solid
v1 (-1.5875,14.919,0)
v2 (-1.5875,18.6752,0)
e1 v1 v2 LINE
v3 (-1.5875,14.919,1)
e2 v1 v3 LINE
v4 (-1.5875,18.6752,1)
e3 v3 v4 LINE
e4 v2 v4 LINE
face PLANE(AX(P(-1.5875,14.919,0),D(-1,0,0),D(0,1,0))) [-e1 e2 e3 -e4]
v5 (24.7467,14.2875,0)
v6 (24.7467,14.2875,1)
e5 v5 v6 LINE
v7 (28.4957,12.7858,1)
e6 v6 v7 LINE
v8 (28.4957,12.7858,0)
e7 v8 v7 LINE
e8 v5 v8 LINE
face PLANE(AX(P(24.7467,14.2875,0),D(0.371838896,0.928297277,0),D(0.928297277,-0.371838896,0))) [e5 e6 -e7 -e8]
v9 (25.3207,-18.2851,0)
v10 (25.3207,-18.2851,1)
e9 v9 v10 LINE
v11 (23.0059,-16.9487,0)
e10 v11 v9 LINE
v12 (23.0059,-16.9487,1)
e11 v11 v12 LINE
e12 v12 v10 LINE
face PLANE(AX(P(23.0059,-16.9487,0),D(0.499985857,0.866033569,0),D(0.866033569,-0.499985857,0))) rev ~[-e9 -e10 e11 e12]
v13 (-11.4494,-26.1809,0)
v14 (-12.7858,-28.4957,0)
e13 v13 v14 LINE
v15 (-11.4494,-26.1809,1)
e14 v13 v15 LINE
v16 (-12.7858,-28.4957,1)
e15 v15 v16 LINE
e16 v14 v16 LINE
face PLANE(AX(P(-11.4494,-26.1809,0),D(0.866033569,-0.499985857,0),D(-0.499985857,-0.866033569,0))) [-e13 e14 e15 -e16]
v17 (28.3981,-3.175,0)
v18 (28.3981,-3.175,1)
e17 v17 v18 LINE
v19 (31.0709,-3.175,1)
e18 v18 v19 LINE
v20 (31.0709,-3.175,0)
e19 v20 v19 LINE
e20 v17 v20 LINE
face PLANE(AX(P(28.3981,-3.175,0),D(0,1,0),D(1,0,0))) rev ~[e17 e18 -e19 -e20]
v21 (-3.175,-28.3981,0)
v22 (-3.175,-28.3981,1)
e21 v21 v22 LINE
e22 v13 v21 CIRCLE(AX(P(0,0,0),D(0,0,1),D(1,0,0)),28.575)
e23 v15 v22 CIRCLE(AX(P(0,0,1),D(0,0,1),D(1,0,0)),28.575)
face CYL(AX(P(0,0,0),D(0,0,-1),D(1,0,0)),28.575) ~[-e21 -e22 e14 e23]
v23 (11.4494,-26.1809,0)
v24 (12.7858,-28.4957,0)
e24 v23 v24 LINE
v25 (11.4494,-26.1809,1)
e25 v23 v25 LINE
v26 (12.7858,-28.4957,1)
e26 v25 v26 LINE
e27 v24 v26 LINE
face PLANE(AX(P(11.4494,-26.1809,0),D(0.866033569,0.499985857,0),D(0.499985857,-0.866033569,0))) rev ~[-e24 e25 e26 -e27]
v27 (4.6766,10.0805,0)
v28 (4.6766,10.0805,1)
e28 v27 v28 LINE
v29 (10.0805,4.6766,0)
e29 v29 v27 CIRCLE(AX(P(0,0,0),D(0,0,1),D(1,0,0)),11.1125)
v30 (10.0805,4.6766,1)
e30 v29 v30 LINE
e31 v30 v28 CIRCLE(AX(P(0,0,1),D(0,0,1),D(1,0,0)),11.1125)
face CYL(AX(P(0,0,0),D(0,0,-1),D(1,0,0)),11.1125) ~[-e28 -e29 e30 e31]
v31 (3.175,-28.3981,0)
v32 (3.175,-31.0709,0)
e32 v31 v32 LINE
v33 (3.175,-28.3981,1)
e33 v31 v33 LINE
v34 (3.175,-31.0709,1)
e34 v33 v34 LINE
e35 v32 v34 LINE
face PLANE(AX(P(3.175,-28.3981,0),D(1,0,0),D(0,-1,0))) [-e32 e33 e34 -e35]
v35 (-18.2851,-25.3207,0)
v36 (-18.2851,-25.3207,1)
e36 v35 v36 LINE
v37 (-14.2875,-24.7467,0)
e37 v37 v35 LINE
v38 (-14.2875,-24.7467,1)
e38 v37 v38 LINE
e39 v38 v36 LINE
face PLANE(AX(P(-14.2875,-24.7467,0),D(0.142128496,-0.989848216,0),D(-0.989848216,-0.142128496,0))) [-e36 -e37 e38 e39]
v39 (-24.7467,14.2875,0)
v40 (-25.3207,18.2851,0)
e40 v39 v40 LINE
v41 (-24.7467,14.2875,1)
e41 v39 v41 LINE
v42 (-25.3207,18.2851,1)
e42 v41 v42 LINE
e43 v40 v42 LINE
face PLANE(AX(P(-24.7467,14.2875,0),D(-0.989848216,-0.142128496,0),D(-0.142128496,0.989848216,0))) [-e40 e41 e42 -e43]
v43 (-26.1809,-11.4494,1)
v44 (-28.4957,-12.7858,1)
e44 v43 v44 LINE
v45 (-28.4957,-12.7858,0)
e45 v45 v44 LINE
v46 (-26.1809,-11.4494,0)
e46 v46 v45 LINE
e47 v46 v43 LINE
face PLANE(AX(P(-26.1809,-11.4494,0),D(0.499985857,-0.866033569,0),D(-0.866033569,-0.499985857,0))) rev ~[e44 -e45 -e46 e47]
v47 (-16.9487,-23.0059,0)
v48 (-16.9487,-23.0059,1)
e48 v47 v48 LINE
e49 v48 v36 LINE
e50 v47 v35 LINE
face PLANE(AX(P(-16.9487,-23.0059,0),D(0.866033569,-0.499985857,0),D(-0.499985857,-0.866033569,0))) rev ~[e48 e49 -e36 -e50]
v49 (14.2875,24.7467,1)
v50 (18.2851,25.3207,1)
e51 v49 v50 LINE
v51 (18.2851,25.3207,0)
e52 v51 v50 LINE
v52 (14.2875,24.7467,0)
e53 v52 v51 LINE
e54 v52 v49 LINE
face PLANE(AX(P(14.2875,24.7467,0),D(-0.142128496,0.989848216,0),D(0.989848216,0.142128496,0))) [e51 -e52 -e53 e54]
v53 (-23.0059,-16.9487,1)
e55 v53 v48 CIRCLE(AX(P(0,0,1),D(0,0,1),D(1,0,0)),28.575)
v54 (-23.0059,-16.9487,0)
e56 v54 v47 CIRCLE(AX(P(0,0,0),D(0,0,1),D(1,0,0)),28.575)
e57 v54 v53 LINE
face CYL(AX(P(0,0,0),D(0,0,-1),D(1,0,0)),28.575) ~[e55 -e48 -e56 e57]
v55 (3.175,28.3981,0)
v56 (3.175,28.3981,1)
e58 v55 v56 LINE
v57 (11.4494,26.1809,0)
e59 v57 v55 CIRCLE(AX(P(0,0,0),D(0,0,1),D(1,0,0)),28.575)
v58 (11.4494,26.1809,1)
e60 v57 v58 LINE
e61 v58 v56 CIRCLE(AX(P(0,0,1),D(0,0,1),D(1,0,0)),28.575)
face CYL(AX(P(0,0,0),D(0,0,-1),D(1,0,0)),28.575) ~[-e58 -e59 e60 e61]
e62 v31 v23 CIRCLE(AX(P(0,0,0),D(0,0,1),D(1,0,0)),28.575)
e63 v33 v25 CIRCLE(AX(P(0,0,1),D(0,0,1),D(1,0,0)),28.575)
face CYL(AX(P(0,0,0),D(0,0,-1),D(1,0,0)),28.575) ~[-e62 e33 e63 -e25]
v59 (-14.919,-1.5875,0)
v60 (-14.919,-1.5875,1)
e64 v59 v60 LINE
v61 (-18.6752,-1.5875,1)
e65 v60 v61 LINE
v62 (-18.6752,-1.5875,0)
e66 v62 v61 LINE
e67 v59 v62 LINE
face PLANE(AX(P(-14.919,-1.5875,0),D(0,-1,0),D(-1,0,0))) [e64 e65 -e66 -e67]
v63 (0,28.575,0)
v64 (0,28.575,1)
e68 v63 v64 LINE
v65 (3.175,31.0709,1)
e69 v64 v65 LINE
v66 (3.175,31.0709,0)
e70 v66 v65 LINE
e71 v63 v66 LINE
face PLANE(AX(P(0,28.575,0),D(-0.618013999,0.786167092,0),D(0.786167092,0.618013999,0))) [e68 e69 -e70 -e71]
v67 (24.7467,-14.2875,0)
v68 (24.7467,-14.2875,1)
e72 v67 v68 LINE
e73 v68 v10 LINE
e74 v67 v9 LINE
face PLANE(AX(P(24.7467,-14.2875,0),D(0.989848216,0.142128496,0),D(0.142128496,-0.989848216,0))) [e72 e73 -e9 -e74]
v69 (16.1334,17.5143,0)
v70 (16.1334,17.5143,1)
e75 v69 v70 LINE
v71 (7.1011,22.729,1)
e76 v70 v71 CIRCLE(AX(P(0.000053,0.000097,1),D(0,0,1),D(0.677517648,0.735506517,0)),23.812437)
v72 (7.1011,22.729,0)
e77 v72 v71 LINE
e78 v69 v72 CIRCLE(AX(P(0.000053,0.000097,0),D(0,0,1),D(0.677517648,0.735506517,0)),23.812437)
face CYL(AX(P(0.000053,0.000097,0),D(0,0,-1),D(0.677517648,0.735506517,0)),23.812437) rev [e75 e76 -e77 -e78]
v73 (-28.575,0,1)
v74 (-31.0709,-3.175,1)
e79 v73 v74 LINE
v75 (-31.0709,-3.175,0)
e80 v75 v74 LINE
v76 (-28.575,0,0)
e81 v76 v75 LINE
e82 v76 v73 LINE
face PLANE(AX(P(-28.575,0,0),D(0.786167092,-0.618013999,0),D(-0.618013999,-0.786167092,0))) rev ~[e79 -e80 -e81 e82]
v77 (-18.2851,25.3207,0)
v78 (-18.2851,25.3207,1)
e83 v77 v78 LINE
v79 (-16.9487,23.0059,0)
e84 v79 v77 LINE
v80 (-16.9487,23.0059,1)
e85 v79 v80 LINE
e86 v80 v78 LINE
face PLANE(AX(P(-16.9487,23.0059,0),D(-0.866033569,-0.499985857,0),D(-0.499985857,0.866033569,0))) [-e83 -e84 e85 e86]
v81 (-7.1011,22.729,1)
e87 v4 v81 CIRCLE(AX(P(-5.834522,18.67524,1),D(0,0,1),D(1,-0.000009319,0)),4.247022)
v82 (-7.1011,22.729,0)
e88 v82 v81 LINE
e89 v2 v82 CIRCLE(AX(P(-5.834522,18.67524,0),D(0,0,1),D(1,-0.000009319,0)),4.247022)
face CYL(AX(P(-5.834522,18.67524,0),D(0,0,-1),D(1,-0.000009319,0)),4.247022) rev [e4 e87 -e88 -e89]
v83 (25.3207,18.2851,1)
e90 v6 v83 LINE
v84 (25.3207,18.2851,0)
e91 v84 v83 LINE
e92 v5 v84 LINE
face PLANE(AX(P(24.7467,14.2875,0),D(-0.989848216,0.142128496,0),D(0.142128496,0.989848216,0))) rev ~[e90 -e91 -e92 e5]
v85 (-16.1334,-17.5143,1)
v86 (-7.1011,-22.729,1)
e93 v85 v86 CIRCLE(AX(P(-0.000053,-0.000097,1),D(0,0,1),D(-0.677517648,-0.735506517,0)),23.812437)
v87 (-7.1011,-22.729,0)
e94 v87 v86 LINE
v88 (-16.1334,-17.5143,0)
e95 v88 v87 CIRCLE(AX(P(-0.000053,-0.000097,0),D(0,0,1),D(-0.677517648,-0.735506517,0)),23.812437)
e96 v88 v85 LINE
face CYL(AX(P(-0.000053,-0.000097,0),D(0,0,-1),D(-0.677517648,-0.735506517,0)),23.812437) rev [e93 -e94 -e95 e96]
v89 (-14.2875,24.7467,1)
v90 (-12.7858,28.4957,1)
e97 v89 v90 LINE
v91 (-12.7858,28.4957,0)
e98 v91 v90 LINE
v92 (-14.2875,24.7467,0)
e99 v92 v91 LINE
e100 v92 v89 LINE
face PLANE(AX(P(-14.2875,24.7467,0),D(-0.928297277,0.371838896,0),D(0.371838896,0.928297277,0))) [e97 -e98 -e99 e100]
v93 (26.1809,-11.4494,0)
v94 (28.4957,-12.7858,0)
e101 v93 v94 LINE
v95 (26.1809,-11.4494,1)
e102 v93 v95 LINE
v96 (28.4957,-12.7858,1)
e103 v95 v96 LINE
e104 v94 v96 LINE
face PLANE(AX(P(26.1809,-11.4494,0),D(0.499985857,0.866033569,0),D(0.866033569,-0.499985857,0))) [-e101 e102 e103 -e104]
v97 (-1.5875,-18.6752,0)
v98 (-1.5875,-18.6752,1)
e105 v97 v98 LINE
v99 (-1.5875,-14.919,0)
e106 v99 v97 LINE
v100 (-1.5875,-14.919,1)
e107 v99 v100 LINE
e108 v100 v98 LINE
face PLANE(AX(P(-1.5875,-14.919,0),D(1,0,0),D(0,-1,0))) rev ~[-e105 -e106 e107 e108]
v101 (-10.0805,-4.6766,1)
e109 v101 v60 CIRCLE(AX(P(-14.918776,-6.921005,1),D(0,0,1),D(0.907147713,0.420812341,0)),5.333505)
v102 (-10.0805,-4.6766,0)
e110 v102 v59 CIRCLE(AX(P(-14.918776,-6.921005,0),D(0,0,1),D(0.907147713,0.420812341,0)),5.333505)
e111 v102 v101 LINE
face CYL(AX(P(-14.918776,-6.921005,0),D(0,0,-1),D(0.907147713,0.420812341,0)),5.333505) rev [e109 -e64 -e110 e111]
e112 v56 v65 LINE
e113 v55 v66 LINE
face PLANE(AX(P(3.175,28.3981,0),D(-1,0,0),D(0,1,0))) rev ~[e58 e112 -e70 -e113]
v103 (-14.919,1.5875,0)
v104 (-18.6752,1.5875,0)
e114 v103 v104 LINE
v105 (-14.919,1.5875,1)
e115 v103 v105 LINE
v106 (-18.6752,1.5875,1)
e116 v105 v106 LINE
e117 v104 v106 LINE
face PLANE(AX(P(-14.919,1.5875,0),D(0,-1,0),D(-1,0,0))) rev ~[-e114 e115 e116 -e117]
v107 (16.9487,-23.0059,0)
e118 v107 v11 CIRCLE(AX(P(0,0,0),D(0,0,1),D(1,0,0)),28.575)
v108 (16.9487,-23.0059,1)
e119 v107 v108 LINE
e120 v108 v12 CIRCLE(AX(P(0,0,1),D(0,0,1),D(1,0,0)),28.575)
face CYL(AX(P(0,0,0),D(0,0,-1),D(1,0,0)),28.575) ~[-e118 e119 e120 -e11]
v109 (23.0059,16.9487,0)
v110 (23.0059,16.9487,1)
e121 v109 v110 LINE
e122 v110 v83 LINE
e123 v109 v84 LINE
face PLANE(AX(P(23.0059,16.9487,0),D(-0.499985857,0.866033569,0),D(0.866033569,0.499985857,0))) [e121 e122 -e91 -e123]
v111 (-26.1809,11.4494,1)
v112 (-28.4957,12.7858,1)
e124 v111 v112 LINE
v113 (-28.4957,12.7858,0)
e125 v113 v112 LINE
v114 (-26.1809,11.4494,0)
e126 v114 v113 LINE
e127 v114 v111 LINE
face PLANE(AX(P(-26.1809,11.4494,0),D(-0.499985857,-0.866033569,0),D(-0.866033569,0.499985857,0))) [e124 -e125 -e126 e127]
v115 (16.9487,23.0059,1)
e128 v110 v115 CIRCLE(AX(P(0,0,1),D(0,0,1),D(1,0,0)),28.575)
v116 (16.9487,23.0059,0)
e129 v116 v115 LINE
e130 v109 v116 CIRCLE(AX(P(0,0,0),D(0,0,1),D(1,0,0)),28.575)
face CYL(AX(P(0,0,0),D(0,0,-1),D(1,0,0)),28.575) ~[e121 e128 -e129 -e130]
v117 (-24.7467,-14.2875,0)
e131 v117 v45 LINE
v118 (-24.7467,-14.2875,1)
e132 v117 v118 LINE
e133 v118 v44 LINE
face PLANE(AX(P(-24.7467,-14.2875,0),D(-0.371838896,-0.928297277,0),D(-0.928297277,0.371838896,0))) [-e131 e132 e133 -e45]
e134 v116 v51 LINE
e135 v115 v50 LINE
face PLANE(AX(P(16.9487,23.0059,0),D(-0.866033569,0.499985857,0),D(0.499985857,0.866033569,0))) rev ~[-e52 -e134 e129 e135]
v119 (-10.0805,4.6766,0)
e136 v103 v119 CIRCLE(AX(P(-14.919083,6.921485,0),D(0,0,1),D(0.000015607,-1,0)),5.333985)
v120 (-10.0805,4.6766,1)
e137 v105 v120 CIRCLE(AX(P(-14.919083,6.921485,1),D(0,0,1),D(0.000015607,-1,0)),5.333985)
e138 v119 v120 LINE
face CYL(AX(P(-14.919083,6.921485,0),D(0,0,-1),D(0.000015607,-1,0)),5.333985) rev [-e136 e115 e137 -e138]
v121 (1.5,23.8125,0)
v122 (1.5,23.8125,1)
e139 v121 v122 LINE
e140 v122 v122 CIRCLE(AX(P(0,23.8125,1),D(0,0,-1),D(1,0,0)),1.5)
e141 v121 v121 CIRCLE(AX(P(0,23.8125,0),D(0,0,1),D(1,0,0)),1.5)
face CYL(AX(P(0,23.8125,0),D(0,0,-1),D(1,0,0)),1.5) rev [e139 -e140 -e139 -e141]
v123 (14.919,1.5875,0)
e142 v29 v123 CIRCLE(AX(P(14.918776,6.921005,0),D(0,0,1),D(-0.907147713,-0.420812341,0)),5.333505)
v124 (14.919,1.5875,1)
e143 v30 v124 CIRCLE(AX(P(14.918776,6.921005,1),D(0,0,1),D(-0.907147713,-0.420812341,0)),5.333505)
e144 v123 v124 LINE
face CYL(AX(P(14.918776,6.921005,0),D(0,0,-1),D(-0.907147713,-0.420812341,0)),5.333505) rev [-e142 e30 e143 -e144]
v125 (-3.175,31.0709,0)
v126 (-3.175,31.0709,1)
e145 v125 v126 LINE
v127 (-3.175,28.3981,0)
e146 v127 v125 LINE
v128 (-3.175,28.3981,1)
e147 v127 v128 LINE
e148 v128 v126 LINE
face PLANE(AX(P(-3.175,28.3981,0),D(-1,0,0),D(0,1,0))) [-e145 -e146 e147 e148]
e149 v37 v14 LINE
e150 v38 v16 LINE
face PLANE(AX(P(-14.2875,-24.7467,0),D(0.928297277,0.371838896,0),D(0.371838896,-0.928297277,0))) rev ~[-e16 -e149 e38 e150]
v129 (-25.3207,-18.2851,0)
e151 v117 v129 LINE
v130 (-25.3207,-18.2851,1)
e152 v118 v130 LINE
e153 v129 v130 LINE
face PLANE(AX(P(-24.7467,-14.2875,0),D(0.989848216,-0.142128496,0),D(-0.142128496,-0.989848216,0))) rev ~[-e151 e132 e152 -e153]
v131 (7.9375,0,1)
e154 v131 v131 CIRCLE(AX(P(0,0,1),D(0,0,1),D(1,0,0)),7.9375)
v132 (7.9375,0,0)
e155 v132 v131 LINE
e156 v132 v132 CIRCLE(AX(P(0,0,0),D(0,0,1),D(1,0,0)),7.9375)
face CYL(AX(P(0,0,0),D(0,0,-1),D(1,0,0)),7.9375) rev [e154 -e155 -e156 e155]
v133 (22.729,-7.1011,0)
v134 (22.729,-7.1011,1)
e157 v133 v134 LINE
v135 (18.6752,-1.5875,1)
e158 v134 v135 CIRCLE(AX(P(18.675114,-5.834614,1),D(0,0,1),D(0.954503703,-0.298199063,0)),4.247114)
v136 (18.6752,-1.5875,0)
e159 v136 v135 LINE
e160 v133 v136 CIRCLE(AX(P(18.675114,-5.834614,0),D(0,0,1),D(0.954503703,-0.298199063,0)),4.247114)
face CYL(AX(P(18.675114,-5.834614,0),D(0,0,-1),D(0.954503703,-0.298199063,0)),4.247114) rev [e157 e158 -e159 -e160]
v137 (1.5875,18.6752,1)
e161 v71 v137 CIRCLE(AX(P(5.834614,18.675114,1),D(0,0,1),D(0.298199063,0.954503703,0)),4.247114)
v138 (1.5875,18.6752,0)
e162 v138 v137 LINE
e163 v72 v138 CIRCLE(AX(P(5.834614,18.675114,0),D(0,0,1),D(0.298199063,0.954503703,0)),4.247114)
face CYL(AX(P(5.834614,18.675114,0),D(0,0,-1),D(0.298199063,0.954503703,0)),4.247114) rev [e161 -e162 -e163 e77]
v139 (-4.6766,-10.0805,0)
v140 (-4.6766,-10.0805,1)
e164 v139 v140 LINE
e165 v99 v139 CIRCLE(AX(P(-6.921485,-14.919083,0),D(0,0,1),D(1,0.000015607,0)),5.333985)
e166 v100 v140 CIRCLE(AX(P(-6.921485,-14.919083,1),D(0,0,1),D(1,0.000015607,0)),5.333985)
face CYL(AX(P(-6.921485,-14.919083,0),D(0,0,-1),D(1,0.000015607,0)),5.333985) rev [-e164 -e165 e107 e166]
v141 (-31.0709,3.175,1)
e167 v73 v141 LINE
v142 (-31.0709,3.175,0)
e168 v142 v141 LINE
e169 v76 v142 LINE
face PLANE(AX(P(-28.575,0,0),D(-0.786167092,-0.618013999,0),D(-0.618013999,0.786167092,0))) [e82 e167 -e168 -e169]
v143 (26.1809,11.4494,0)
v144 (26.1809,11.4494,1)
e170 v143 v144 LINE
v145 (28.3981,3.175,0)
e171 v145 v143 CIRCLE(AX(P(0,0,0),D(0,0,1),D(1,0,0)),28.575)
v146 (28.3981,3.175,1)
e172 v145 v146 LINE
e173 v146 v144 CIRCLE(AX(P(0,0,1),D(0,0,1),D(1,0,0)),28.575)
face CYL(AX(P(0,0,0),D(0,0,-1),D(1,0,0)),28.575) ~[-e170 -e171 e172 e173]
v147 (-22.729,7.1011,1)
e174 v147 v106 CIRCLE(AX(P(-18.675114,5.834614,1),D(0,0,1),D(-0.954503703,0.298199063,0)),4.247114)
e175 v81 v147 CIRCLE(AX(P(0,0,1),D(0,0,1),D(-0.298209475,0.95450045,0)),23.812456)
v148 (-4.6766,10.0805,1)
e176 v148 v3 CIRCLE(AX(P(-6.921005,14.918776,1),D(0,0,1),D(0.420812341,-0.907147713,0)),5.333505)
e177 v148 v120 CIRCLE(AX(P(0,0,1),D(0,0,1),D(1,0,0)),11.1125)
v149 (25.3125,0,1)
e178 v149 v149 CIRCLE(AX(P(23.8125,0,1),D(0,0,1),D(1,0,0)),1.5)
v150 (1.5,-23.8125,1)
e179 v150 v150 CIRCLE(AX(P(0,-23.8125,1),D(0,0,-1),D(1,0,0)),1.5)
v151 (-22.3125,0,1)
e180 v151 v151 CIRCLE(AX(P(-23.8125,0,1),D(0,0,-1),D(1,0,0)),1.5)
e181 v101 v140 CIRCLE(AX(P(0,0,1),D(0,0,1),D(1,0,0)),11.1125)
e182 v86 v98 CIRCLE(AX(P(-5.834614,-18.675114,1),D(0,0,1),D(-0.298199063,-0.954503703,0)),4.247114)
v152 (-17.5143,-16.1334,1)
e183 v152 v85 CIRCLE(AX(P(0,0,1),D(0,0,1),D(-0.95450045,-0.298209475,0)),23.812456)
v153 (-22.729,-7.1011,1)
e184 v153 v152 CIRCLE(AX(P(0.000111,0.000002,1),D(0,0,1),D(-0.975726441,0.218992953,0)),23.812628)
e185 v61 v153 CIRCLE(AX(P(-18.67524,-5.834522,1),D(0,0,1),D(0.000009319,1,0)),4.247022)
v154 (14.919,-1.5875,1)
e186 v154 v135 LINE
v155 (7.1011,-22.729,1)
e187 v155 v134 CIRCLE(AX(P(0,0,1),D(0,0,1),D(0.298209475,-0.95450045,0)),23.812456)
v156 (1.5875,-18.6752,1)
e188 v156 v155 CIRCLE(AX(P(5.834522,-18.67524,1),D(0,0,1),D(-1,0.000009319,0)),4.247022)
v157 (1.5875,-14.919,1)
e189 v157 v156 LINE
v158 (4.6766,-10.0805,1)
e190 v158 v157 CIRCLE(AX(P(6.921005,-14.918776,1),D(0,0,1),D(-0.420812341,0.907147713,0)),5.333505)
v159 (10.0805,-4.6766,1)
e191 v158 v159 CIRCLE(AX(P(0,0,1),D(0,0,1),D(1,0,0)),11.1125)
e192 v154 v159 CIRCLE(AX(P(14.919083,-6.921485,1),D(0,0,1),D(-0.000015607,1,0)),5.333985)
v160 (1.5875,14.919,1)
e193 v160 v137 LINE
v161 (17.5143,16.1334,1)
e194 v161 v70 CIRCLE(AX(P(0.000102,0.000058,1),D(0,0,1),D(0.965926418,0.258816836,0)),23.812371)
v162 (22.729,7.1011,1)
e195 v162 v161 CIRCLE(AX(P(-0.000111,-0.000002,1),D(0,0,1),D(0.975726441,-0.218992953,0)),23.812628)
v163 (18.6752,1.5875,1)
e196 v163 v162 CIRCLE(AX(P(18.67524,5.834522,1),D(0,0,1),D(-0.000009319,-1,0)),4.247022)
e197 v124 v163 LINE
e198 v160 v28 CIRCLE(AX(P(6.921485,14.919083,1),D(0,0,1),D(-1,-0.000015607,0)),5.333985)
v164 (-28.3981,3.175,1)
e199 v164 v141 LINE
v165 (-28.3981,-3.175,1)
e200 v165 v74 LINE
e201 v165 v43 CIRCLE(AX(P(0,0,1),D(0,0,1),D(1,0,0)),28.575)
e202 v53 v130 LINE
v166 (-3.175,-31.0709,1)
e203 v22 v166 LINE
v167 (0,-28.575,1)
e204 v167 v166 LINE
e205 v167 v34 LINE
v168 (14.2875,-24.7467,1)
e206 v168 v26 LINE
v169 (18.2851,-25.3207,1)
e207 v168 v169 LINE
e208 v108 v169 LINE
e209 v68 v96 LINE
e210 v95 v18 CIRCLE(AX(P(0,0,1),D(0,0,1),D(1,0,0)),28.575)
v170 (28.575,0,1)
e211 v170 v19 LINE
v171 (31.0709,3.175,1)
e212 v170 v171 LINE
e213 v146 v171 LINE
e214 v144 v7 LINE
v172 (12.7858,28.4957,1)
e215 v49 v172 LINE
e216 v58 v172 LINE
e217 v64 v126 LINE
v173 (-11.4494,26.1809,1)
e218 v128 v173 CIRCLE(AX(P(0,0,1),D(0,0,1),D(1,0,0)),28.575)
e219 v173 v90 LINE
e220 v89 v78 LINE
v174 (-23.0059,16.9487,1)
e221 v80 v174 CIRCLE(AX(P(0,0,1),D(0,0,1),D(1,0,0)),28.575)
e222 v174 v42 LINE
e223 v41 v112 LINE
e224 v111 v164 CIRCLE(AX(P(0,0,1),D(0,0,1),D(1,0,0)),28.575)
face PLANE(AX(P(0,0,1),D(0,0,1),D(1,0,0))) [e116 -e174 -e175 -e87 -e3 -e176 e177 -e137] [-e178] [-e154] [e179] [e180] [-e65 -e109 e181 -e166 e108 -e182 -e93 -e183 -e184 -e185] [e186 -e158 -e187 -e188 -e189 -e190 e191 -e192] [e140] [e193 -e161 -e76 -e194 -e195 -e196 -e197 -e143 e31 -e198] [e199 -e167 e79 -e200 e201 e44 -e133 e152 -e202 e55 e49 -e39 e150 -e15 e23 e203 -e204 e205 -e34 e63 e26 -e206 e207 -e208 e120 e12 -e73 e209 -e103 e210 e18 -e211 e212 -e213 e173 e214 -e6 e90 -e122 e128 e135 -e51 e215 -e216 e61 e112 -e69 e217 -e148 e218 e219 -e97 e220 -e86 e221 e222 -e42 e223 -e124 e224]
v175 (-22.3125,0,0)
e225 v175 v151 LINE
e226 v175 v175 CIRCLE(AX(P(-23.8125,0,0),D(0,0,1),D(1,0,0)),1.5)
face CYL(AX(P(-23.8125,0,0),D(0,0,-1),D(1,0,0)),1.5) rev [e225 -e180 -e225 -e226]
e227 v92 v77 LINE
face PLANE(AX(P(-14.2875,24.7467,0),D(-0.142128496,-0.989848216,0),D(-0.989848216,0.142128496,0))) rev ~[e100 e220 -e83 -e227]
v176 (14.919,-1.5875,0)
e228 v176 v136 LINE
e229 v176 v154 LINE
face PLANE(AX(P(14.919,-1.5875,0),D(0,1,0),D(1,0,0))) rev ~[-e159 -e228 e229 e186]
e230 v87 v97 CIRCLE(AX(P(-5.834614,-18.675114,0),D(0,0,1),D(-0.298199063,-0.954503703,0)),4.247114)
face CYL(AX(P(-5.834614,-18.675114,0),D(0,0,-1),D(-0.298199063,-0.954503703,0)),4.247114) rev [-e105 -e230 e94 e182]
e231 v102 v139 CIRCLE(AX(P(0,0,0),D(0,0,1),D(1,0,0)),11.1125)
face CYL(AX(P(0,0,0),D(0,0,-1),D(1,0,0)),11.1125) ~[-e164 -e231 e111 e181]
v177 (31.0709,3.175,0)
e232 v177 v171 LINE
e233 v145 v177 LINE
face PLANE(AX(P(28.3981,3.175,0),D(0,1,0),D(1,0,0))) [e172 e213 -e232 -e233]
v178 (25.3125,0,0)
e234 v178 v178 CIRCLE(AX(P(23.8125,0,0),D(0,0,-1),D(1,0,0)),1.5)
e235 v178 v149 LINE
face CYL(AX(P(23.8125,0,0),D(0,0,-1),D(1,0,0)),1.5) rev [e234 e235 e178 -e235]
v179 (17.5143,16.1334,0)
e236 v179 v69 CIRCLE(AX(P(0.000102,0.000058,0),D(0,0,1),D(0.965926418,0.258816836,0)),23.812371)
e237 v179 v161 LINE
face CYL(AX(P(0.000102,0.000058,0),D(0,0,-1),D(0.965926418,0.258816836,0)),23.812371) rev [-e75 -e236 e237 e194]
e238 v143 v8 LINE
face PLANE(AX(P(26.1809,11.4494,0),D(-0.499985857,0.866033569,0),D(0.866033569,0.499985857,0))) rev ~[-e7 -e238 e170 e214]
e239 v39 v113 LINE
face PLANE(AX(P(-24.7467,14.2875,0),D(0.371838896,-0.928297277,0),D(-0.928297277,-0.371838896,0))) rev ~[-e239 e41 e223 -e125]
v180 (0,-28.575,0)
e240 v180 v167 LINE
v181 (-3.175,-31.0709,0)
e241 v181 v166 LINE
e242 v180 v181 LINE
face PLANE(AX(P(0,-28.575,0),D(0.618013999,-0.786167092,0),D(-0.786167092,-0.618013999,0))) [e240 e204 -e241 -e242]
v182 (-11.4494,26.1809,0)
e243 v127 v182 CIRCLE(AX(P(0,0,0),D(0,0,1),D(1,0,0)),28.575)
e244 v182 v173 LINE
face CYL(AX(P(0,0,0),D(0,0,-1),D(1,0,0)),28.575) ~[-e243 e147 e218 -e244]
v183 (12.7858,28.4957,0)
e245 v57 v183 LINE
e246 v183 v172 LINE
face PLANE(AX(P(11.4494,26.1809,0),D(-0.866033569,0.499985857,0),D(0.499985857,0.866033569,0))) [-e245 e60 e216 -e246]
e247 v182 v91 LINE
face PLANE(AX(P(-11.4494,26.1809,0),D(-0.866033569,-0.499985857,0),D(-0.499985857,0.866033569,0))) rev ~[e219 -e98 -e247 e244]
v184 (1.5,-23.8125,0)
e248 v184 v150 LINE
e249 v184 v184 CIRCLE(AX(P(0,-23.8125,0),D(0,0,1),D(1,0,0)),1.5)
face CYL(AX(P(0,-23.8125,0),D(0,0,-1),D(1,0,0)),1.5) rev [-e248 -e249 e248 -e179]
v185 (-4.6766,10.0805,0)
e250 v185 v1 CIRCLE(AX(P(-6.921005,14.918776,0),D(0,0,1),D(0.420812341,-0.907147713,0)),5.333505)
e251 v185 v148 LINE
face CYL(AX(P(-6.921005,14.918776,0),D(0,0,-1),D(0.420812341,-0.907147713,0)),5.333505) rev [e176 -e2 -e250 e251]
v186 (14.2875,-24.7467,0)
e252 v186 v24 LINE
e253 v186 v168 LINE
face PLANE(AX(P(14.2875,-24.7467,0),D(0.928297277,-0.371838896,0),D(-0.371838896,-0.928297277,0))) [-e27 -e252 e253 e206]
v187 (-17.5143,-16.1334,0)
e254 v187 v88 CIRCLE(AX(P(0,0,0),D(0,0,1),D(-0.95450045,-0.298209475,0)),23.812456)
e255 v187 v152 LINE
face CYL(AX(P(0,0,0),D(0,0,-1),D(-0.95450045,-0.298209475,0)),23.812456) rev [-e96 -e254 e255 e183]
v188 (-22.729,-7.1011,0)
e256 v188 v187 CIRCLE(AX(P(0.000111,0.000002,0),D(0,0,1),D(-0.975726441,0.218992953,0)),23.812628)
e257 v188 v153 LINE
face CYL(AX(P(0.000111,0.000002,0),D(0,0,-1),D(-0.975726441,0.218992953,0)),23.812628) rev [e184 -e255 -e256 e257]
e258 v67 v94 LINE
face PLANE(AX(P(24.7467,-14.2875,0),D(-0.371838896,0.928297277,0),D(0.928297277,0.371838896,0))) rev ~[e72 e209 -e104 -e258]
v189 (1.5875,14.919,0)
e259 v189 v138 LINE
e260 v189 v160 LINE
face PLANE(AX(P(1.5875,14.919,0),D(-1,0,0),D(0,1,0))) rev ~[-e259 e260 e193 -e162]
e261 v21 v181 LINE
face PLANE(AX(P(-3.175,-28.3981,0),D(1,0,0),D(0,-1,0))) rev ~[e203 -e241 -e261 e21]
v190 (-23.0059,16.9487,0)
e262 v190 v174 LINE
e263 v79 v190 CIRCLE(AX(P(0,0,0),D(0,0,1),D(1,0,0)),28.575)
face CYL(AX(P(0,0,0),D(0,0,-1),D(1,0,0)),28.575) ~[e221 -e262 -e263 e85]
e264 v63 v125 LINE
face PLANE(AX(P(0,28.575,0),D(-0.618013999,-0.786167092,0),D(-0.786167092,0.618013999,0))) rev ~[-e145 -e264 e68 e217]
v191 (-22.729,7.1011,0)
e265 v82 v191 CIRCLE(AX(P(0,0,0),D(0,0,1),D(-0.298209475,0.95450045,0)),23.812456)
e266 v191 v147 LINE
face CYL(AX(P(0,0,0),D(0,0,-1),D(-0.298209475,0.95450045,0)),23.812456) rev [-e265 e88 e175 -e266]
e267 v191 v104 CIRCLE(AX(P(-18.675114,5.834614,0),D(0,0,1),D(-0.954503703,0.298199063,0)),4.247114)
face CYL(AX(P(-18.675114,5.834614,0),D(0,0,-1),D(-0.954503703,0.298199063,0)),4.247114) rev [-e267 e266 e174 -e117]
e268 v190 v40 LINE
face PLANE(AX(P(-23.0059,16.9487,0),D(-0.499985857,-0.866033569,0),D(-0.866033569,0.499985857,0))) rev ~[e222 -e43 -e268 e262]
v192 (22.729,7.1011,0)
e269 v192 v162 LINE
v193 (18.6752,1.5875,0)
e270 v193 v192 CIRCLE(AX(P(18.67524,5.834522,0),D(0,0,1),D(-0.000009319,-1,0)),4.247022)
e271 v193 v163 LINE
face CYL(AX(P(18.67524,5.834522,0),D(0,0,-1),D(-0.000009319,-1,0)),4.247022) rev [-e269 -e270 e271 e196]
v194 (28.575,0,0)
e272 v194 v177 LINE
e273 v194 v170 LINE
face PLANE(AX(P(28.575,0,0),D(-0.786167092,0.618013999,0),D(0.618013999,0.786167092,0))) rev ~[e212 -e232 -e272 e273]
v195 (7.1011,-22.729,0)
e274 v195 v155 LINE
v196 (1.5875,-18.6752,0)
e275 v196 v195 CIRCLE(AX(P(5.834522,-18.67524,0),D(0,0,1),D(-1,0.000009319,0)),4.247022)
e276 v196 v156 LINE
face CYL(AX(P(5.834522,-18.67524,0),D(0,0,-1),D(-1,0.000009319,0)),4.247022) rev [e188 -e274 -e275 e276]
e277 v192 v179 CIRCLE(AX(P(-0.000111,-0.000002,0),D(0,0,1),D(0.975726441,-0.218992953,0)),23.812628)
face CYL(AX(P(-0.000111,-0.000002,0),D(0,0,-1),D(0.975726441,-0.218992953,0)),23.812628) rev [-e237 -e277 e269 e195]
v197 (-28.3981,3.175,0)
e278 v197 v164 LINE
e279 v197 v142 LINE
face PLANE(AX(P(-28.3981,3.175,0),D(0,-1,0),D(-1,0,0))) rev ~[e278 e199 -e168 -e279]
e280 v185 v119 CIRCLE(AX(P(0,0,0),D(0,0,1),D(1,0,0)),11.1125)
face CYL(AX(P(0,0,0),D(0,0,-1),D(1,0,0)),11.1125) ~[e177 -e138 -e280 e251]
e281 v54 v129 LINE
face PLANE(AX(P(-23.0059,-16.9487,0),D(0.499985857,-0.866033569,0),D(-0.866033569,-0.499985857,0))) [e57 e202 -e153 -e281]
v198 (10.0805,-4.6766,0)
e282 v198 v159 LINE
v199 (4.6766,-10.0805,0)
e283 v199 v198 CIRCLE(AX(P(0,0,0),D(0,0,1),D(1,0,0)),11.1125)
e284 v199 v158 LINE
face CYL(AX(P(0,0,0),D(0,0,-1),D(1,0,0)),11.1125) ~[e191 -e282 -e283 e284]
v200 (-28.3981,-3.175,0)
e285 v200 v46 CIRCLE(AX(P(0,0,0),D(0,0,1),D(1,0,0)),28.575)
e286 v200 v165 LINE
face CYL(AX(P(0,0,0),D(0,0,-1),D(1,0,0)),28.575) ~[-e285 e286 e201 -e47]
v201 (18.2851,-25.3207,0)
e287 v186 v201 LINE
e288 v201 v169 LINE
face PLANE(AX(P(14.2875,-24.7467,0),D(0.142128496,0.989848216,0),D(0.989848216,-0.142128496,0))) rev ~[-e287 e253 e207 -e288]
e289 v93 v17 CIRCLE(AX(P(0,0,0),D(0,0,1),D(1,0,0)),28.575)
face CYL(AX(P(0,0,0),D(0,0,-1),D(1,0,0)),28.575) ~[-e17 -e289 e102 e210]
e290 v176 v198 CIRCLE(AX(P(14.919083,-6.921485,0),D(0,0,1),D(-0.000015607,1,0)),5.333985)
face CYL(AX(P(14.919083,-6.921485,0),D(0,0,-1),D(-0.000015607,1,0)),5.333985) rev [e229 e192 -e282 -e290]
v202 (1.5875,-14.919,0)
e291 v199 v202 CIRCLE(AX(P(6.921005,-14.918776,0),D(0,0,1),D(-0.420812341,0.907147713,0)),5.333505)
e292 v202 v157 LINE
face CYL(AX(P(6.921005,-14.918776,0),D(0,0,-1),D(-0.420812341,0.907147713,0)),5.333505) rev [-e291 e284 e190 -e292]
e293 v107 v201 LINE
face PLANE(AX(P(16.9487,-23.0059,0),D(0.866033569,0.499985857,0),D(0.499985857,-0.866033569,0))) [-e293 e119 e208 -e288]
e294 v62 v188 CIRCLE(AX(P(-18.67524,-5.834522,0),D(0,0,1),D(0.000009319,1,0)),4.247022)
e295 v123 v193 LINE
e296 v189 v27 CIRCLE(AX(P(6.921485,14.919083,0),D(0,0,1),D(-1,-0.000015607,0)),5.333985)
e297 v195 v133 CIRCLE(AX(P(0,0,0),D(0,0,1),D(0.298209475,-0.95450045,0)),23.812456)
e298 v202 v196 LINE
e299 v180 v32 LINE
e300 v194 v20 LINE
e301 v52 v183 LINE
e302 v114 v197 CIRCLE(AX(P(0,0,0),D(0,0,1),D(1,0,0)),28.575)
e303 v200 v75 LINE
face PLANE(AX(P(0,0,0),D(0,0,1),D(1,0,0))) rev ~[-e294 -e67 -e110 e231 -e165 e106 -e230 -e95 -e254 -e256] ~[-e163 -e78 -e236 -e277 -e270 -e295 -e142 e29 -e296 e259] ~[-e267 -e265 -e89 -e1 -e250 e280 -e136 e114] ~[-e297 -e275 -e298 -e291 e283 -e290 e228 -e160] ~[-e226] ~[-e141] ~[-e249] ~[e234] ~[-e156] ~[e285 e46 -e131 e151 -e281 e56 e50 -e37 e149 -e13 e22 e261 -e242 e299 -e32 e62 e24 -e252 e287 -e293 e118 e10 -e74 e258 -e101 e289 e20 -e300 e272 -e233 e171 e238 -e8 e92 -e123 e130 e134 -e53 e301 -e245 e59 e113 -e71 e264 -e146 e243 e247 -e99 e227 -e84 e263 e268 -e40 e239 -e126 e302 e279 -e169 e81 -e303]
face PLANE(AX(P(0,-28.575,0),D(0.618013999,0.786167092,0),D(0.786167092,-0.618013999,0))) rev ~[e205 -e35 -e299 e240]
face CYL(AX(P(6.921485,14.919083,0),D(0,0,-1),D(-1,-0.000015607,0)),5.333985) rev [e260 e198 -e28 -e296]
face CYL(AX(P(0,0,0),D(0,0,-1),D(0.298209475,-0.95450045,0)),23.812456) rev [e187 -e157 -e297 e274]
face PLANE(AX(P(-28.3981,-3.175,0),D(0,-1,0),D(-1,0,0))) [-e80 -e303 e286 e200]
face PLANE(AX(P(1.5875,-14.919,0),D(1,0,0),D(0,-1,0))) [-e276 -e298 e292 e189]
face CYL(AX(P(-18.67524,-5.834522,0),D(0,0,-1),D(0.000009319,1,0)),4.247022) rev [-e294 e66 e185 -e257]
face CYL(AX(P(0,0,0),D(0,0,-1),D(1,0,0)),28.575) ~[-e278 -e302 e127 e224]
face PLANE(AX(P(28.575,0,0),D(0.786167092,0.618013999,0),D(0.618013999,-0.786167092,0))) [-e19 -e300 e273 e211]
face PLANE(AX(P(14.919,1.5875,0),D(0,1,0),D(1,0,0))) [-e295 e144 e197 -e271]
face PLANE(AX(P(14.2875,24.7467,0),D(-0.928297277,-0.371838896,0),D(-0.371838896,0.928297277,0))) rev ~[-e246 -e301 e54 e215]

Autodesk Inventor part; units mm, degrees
ref_plane "YZ Plane" through (0, 0, 0) normal (1, 0, 0) x (0, 1, 0)
ref_plane "XZ Plane" through (0, 0, 0) normal (0, 1, 0) x (-1, 0, 0)
ref_plane "XY Plane" through (0, 0, 0) normal (0, 0, 1) x (1, 0, 0)
sketch "Sketch1" plane through (0, 0, 0) normal (0, 0, 1) x (1, 0, 0)
  circle A0 centre (0, 0) radius 28.575
  circle A1 centre (0, 0) radius 23.8125 construction
  circle A2 centre (0, 0) radius 11.1125
  line L0 (0, 0) -> (0, 28.575) construction
  circle A3 centre (0, 23.8125) radius 1.5
  line L1 (-1.5875, 10.9985) -> (-1.5875, 28.5309)
  line L2 (1.5875, 10.9985) -> (1.5875, 28.5309)
  arc A4 (7.1011, 22.729) -> (1.5875, 18.6752) centre (5.8346, 18.6752) ccw
  arc A5 (-1.5875, 18.6752) -> (-7.1011, 22.729) centre (-5.8346, 18.6752) ccw
  arc A6 (1.5875, 14.919) -> (4.6766, 10.0805) centre (6.9212, 14.919) ccw
  arc A7 (-4.6766, 10.0805) -> (-1.5875, 14.919) centre (-6.9212, 14.919) ccw
  arc A8 (-14.919, 1.5875) -> (-10.0805, 4.6766) centre (-14.919, 6.9212) ccw
  line L3 (-10.9985, 1.5875) -> (-28.5309, 1.5875)
  line L4 (-10.9985, -1.5875) -> (-28.5309, -1.5875)
  arc A9 (-10.0805, -4.6766) -> (-14.919, -1.5875) centre (-14.919, -6.9212) ccw
  arc A10 (-22.729, 7.1011) -> (-18.6752, 1.5875) centre (-18.6752, 5.8346) ccw
  arc A11 (-18.6752, -1.5875) -> (-22.729, -7.1011) centre (-18.6752, -5.8346) ccw
  circle A12 centre (-23.8125, 0) radius 1.5
  arc A13 (-1.5875, -14.919) -> (-4.6766, -10.0805) centre (-6.9212, -14.919) ccw
  line L5 (-1.5875, -10.9985) -> (-1.5875, -28.5309)
  line L6 (1.5875, -10.9985) -> (1.5875, -28.5309)
  arc A14 (4.6766, -10.0805) -> (1.5875, -14.919) centre (6.9212, -14.919) ccw
  arc A15 (-7.1011, -22.729) -> (-1.5875, -18.6752) centre (-5.8346, -18.6752) ccw
  arc A16 (1.5875, -18.6752) -> (7.1011, -22.729) centre (5.8346, -18.6752) ccw
  circle A17 centre (0, -23.8125) radius 1.5
  arc A18 (14.919, -1.5875) -> (10.0805, -4.6766) centre (14.919, -6.9212) ccw
  line L7 (10.9985, -1.5875) -> (28.5309, -1.5875)
  line L8 (10.9985, 1.5875) -> (28.5309, 1.5875)
  arc A19 (10.0805, 4.6766) -> (14.919, 1.5875) centre (14.919, 6.9212) ccw
  arc A20 (22.729, -7.1011) -> (18.6752, -1.5875) centre (18.6752, -5.8346) ccw
  arc A21 (18.6752, 1.5875) -> (22.729, 7.1011) centre (18.6752, 5.8346) ccw
  circle A22 centre (23.8125, 0) radius 1.5
  circle A23 centre (0, 0) radius 7.9375
  arc A24 (-7.1011, 22.729) -> (-22.729, 7.1011) centre (0, 0) ccw
  arc A25 (-23.2345, 5.2148) -> (-17.5143, -16.1334) centre (0, 0) ccw
  arc A26 (-16.1334, -17.5143) -> (5.2148, -23.2345) centre (0, 0) ccw
  arc A27 (7.1011, -22.729) -> (22.729, -7.1011) centre (0, 0) ccw
  arc A28 (23.2345, -5.2148) -> (17.5143, 16.1334) centre (0, 0) ccw
  arc A29 (16.1334, 17.5143) -> (-5.2148, 23.2345) centre (0, 0) ccw
  line L9 (-1.5875, 28.5309) -> (-1.5875, 31.0709) construction
  line L10 (-1.5875, 31.0709) -> (1.5875, 28.5309) construction
  arc A30 (-22.729, -7.1011) -> (-7.1011, -22.729) centre (0, 0) ccw
  arc A31 (7.1011, -22.729) -> (22.729, -7.1011) centre (0, 0) ccw
  arc A32 (23.0011, 6.1631) -> (7.1011, 22.729) centre (0, 0) ccw
  arc A33 (-7.1011, 22.729) -> (-22.729, 7.1011) centre (0, 0) ccw
  line L11 (0, 28.575) -> (-3.175, 28.575) construction
  line L12 (-3.175, 28.575) -> (-3.175, 31.0709) construction
  line L13 (-3.175, 31.0709) -> (0, 31.0709) construction
  line L14 (0, 31.0709) -> (0, 28.575) construction
  line L15 (0, 28.575) -> (-3.175, 31.0709)
  line L16 (-3.175, 28.3981) -> (-3.175, 31.0709)
  line L17 (0, 28.575) -> (3.175, 31.0709)
  line L18 (3.175, 28.3981) -> (3.175, 31.0709)
  line L19 (-14.2875, 24.7467) -> (-12.7858, 28.4957)
  line L20 (-11.4494, 26.1809) -> (-12.7858, 28.4957)
  line L21 (-14.2875, 24.7467) -> (-18.2851, 25.3207)
  line L22 (-16.9487, 23.0059) -> (-18.2851, 25.3207)
  line L23 (-24.7467, 14.2875) -> (-25.3207, 18.2851)
  line L24 (-23.0059, 16.9487) -> (-25.3207, 18.2851)
  line L25 (-24.7467, 14.2875) -> (-28.4957, 12.7858)
  line L26 (-26.1809, 11.4494) -> (-28.4957, 12.7858)
  line L27 (-28.575, 0) -> (-31.0709, 3.175)
  line L28 (-28.3981, 3.175) -> (-31.0709, 3.175)
  line L29 (-28.575, 0) -> (-31.0709, -3.175)
  line L30 (-28.3981, -3.175) -> (-31.0709, -3.175)
  line L31 (-24.7467, -14.2875) -> (-28.4957, -12.7858)
  line L32 (-26.1809, -11.4494) -> (-28.4957, -12.7858)
  line L33 (-24.7467, -14.2875) -> (-25.3207, -18.2851)
  line L34 (-23.0059, -16.9487) -> (-25.3207, -18.2851)
  line L35 (-14.2875, -24.7467) -> (-18.2851, -25.3207)
  line L36 (-16.9487, -23.0059) -> (-18.2851, -25.3207)
  line L37 (-14.2875, -24.7467) -> (-12.7858, -28.4957)
  line L38 (-11.4494, -26.1809) -> (-12.7858, -28.4957)
  line L39 (0, -28.575) -> (-3.175, -31.0709)
  line L40 (-3.175, -28.3981) -> (-3.175, -31.0709)
  line L41 (0, -28.575) -> (3.175, -31.0709)
  line L42 (3.175, -28.3981) -> (3.175, -31.0709)
  line L43 (14.2875, -24.7467) -> (12.7858, -28.4957)
  line L44 (11.4494, -26.1809) -> (12.7858, -28.4957)
  line L45 (14.2875, -24.7467) -> (18.2851, -25.3207)
  line L46 (16.9487, -23.0059) -> (18.2851, -25.3207)
  line L47 (24.7467, -14.2875) -> (25.3207, -18.2851)
  line L48 (23.0059, -16.9487) -> (25.3207, -18.2851)
  line L49 (24.7467, -14.2875) -> (28.4957, -12.7858)
  line L50 (26.1809, -11.4494) -> (28.4957, -12.7858)
  line L51 (28.575, 0) -> (31.0709, -3.175)
  line L52 (28.3981, -3.175) -> (31.0709, -3.175)
  line L53 (28.575, 0) -> (31.0709, 3.175)
  line L54 (28.3981, 3.175) -> (31.0709, 3.175)
  line L55 (24.7467, 14.2875) -> (28.4957, 12.7858)
  line L56 (26.1809, 11.4494) -> (28.4957, 12.7858)
  line L57 (24.7467, 14.2875) -> (25.3207, 18.2851)
  line L58 (23.0059, 16.9487) -> (25.3207, 18.2851)
  line L59 (14.2875, 24.7467) -> (18.2851, 25.3207)
  line L60 (16.9487, 23.0059) -> (18.2851, 25.3207)
  line L61 (14.2875, 24.7467) -> (12.7858, 28.4957)
  line L62 (11.4494, 26.1809) -> (12.7858, 28.4957)
  point P0 (-1.5875, 14.919)
  point P1 (-4.6766, 10.0805)
  point P2 (-10.0805, 4.6766)
  point P3 (-1.5875, 18.6752)
  point P4 (1.5875, -14.919)
  point P5 (4.6766, -10.0805)
  point P6 (10.0805, -4.6766)
  point P7 (-7.072, -22.7381)
  point P8 (-16.1558, -17.4936)
  point P9 (1.5875, -18.6752)
  point P10 (14.919, 1.5875)
  point P11 (10.0805, 4.6766)
  point P12 (7.072, -22.7381)
  point P13 (18.6752, 1.5875)
  point P14 (-14.919, -1.5875)
  point P15 (-10.0805, -4.6766)
  point P16 (-4.6766, -10.0805)
  point P17 (-23.2278, -5.2445)
  point P18 (-22.729, -7.1011)
  point P19 (-18.6752, -1.5875)
  point P20 (7.1011, 22.729)
  point P21 (-23.7595, -1.5875)
  point P22 (16.1334, 17.5143)
  point P23 (17.5143, 16.1334)
  point P24 (22.729, 7.1011)
  point P25 (-7.1011, -22.729)
  point P26 (-16.1334, -17.5143)
  point P27 (-17.5143, -16.1334)
  point P28 (22.729, -7.1011)
  point P29 (7.1011, -22.729)
  point P30 (28.575, 0)
  point P31 (28.575, 0)
  dimension "d0" = 57.15
  dimension "d1" = 47.625
  dimension "d2" = 22.225
  dimension "d3" = 3
  dimension "d4" = 1.5875
  dimension "d5" = 1.5875
  dimension "d8" = 360
  dimension "d10" = 15.875
  dimension "d13" = 360
  dimension "d15" = 2.54
  dimension "d22" = 3.175
  dimension "d25" = 360
extrude "Extrusion1" add sketch "Sketch1" along normal blind 1 contours A0 L7 A28 A22 L8 | L51 L52 A0 | A0 L54 L53 | L8 A28 A32 A29 L2 A0 | A0 L6 A16 A27 A20 L7 | A28 A22 L7 A2 L8 | L8 A21 A28 | A0 L55 L56 | L50 L49 A0 | A0 L58 L57 | L8 A2 A19 | L47 L48 A0 | A18 A2 L7 | A2 | A0 L59 L60 | A2 L2 A6 | L46 L45 A0 | A14 L6 A2 | L6 A26 A17 L5 A2 | A0 L62 L61 | A2 L1 A29 A3 L2 | A4 L2 A29 | L43 L44 A0 | L6 A0 L5 A26 A17 | A2 A7 L1 | A29 A3 L1 A0 L2 | L5 A13 A2 | A0 L42 L41 | A0 L17 L18 | L39 L40 A0 | A2 L3 A8 | A5 A24 A10 L3 A0 L1 | A0 L16 L15 | A9 L4 A2 | L5 A26 A15 | A0 L4 A25 A30 A26 L5 | A2 L4 A25 A12 L3 | A11 A25 L4 | L38 L37 A0 | A25 A12 L4 A0 L3 | A0 L19 L20 | L35 L36 A0 | A0 L27 L28 | A0 L22 L21 | A0 L30 L29 | L34 L33 A0 | L26 L25 A0 | A0 L23 L24 | A0 L31 L32
properties part number "Wood Magnets  (UNI) V1.0." material "Titanium"
